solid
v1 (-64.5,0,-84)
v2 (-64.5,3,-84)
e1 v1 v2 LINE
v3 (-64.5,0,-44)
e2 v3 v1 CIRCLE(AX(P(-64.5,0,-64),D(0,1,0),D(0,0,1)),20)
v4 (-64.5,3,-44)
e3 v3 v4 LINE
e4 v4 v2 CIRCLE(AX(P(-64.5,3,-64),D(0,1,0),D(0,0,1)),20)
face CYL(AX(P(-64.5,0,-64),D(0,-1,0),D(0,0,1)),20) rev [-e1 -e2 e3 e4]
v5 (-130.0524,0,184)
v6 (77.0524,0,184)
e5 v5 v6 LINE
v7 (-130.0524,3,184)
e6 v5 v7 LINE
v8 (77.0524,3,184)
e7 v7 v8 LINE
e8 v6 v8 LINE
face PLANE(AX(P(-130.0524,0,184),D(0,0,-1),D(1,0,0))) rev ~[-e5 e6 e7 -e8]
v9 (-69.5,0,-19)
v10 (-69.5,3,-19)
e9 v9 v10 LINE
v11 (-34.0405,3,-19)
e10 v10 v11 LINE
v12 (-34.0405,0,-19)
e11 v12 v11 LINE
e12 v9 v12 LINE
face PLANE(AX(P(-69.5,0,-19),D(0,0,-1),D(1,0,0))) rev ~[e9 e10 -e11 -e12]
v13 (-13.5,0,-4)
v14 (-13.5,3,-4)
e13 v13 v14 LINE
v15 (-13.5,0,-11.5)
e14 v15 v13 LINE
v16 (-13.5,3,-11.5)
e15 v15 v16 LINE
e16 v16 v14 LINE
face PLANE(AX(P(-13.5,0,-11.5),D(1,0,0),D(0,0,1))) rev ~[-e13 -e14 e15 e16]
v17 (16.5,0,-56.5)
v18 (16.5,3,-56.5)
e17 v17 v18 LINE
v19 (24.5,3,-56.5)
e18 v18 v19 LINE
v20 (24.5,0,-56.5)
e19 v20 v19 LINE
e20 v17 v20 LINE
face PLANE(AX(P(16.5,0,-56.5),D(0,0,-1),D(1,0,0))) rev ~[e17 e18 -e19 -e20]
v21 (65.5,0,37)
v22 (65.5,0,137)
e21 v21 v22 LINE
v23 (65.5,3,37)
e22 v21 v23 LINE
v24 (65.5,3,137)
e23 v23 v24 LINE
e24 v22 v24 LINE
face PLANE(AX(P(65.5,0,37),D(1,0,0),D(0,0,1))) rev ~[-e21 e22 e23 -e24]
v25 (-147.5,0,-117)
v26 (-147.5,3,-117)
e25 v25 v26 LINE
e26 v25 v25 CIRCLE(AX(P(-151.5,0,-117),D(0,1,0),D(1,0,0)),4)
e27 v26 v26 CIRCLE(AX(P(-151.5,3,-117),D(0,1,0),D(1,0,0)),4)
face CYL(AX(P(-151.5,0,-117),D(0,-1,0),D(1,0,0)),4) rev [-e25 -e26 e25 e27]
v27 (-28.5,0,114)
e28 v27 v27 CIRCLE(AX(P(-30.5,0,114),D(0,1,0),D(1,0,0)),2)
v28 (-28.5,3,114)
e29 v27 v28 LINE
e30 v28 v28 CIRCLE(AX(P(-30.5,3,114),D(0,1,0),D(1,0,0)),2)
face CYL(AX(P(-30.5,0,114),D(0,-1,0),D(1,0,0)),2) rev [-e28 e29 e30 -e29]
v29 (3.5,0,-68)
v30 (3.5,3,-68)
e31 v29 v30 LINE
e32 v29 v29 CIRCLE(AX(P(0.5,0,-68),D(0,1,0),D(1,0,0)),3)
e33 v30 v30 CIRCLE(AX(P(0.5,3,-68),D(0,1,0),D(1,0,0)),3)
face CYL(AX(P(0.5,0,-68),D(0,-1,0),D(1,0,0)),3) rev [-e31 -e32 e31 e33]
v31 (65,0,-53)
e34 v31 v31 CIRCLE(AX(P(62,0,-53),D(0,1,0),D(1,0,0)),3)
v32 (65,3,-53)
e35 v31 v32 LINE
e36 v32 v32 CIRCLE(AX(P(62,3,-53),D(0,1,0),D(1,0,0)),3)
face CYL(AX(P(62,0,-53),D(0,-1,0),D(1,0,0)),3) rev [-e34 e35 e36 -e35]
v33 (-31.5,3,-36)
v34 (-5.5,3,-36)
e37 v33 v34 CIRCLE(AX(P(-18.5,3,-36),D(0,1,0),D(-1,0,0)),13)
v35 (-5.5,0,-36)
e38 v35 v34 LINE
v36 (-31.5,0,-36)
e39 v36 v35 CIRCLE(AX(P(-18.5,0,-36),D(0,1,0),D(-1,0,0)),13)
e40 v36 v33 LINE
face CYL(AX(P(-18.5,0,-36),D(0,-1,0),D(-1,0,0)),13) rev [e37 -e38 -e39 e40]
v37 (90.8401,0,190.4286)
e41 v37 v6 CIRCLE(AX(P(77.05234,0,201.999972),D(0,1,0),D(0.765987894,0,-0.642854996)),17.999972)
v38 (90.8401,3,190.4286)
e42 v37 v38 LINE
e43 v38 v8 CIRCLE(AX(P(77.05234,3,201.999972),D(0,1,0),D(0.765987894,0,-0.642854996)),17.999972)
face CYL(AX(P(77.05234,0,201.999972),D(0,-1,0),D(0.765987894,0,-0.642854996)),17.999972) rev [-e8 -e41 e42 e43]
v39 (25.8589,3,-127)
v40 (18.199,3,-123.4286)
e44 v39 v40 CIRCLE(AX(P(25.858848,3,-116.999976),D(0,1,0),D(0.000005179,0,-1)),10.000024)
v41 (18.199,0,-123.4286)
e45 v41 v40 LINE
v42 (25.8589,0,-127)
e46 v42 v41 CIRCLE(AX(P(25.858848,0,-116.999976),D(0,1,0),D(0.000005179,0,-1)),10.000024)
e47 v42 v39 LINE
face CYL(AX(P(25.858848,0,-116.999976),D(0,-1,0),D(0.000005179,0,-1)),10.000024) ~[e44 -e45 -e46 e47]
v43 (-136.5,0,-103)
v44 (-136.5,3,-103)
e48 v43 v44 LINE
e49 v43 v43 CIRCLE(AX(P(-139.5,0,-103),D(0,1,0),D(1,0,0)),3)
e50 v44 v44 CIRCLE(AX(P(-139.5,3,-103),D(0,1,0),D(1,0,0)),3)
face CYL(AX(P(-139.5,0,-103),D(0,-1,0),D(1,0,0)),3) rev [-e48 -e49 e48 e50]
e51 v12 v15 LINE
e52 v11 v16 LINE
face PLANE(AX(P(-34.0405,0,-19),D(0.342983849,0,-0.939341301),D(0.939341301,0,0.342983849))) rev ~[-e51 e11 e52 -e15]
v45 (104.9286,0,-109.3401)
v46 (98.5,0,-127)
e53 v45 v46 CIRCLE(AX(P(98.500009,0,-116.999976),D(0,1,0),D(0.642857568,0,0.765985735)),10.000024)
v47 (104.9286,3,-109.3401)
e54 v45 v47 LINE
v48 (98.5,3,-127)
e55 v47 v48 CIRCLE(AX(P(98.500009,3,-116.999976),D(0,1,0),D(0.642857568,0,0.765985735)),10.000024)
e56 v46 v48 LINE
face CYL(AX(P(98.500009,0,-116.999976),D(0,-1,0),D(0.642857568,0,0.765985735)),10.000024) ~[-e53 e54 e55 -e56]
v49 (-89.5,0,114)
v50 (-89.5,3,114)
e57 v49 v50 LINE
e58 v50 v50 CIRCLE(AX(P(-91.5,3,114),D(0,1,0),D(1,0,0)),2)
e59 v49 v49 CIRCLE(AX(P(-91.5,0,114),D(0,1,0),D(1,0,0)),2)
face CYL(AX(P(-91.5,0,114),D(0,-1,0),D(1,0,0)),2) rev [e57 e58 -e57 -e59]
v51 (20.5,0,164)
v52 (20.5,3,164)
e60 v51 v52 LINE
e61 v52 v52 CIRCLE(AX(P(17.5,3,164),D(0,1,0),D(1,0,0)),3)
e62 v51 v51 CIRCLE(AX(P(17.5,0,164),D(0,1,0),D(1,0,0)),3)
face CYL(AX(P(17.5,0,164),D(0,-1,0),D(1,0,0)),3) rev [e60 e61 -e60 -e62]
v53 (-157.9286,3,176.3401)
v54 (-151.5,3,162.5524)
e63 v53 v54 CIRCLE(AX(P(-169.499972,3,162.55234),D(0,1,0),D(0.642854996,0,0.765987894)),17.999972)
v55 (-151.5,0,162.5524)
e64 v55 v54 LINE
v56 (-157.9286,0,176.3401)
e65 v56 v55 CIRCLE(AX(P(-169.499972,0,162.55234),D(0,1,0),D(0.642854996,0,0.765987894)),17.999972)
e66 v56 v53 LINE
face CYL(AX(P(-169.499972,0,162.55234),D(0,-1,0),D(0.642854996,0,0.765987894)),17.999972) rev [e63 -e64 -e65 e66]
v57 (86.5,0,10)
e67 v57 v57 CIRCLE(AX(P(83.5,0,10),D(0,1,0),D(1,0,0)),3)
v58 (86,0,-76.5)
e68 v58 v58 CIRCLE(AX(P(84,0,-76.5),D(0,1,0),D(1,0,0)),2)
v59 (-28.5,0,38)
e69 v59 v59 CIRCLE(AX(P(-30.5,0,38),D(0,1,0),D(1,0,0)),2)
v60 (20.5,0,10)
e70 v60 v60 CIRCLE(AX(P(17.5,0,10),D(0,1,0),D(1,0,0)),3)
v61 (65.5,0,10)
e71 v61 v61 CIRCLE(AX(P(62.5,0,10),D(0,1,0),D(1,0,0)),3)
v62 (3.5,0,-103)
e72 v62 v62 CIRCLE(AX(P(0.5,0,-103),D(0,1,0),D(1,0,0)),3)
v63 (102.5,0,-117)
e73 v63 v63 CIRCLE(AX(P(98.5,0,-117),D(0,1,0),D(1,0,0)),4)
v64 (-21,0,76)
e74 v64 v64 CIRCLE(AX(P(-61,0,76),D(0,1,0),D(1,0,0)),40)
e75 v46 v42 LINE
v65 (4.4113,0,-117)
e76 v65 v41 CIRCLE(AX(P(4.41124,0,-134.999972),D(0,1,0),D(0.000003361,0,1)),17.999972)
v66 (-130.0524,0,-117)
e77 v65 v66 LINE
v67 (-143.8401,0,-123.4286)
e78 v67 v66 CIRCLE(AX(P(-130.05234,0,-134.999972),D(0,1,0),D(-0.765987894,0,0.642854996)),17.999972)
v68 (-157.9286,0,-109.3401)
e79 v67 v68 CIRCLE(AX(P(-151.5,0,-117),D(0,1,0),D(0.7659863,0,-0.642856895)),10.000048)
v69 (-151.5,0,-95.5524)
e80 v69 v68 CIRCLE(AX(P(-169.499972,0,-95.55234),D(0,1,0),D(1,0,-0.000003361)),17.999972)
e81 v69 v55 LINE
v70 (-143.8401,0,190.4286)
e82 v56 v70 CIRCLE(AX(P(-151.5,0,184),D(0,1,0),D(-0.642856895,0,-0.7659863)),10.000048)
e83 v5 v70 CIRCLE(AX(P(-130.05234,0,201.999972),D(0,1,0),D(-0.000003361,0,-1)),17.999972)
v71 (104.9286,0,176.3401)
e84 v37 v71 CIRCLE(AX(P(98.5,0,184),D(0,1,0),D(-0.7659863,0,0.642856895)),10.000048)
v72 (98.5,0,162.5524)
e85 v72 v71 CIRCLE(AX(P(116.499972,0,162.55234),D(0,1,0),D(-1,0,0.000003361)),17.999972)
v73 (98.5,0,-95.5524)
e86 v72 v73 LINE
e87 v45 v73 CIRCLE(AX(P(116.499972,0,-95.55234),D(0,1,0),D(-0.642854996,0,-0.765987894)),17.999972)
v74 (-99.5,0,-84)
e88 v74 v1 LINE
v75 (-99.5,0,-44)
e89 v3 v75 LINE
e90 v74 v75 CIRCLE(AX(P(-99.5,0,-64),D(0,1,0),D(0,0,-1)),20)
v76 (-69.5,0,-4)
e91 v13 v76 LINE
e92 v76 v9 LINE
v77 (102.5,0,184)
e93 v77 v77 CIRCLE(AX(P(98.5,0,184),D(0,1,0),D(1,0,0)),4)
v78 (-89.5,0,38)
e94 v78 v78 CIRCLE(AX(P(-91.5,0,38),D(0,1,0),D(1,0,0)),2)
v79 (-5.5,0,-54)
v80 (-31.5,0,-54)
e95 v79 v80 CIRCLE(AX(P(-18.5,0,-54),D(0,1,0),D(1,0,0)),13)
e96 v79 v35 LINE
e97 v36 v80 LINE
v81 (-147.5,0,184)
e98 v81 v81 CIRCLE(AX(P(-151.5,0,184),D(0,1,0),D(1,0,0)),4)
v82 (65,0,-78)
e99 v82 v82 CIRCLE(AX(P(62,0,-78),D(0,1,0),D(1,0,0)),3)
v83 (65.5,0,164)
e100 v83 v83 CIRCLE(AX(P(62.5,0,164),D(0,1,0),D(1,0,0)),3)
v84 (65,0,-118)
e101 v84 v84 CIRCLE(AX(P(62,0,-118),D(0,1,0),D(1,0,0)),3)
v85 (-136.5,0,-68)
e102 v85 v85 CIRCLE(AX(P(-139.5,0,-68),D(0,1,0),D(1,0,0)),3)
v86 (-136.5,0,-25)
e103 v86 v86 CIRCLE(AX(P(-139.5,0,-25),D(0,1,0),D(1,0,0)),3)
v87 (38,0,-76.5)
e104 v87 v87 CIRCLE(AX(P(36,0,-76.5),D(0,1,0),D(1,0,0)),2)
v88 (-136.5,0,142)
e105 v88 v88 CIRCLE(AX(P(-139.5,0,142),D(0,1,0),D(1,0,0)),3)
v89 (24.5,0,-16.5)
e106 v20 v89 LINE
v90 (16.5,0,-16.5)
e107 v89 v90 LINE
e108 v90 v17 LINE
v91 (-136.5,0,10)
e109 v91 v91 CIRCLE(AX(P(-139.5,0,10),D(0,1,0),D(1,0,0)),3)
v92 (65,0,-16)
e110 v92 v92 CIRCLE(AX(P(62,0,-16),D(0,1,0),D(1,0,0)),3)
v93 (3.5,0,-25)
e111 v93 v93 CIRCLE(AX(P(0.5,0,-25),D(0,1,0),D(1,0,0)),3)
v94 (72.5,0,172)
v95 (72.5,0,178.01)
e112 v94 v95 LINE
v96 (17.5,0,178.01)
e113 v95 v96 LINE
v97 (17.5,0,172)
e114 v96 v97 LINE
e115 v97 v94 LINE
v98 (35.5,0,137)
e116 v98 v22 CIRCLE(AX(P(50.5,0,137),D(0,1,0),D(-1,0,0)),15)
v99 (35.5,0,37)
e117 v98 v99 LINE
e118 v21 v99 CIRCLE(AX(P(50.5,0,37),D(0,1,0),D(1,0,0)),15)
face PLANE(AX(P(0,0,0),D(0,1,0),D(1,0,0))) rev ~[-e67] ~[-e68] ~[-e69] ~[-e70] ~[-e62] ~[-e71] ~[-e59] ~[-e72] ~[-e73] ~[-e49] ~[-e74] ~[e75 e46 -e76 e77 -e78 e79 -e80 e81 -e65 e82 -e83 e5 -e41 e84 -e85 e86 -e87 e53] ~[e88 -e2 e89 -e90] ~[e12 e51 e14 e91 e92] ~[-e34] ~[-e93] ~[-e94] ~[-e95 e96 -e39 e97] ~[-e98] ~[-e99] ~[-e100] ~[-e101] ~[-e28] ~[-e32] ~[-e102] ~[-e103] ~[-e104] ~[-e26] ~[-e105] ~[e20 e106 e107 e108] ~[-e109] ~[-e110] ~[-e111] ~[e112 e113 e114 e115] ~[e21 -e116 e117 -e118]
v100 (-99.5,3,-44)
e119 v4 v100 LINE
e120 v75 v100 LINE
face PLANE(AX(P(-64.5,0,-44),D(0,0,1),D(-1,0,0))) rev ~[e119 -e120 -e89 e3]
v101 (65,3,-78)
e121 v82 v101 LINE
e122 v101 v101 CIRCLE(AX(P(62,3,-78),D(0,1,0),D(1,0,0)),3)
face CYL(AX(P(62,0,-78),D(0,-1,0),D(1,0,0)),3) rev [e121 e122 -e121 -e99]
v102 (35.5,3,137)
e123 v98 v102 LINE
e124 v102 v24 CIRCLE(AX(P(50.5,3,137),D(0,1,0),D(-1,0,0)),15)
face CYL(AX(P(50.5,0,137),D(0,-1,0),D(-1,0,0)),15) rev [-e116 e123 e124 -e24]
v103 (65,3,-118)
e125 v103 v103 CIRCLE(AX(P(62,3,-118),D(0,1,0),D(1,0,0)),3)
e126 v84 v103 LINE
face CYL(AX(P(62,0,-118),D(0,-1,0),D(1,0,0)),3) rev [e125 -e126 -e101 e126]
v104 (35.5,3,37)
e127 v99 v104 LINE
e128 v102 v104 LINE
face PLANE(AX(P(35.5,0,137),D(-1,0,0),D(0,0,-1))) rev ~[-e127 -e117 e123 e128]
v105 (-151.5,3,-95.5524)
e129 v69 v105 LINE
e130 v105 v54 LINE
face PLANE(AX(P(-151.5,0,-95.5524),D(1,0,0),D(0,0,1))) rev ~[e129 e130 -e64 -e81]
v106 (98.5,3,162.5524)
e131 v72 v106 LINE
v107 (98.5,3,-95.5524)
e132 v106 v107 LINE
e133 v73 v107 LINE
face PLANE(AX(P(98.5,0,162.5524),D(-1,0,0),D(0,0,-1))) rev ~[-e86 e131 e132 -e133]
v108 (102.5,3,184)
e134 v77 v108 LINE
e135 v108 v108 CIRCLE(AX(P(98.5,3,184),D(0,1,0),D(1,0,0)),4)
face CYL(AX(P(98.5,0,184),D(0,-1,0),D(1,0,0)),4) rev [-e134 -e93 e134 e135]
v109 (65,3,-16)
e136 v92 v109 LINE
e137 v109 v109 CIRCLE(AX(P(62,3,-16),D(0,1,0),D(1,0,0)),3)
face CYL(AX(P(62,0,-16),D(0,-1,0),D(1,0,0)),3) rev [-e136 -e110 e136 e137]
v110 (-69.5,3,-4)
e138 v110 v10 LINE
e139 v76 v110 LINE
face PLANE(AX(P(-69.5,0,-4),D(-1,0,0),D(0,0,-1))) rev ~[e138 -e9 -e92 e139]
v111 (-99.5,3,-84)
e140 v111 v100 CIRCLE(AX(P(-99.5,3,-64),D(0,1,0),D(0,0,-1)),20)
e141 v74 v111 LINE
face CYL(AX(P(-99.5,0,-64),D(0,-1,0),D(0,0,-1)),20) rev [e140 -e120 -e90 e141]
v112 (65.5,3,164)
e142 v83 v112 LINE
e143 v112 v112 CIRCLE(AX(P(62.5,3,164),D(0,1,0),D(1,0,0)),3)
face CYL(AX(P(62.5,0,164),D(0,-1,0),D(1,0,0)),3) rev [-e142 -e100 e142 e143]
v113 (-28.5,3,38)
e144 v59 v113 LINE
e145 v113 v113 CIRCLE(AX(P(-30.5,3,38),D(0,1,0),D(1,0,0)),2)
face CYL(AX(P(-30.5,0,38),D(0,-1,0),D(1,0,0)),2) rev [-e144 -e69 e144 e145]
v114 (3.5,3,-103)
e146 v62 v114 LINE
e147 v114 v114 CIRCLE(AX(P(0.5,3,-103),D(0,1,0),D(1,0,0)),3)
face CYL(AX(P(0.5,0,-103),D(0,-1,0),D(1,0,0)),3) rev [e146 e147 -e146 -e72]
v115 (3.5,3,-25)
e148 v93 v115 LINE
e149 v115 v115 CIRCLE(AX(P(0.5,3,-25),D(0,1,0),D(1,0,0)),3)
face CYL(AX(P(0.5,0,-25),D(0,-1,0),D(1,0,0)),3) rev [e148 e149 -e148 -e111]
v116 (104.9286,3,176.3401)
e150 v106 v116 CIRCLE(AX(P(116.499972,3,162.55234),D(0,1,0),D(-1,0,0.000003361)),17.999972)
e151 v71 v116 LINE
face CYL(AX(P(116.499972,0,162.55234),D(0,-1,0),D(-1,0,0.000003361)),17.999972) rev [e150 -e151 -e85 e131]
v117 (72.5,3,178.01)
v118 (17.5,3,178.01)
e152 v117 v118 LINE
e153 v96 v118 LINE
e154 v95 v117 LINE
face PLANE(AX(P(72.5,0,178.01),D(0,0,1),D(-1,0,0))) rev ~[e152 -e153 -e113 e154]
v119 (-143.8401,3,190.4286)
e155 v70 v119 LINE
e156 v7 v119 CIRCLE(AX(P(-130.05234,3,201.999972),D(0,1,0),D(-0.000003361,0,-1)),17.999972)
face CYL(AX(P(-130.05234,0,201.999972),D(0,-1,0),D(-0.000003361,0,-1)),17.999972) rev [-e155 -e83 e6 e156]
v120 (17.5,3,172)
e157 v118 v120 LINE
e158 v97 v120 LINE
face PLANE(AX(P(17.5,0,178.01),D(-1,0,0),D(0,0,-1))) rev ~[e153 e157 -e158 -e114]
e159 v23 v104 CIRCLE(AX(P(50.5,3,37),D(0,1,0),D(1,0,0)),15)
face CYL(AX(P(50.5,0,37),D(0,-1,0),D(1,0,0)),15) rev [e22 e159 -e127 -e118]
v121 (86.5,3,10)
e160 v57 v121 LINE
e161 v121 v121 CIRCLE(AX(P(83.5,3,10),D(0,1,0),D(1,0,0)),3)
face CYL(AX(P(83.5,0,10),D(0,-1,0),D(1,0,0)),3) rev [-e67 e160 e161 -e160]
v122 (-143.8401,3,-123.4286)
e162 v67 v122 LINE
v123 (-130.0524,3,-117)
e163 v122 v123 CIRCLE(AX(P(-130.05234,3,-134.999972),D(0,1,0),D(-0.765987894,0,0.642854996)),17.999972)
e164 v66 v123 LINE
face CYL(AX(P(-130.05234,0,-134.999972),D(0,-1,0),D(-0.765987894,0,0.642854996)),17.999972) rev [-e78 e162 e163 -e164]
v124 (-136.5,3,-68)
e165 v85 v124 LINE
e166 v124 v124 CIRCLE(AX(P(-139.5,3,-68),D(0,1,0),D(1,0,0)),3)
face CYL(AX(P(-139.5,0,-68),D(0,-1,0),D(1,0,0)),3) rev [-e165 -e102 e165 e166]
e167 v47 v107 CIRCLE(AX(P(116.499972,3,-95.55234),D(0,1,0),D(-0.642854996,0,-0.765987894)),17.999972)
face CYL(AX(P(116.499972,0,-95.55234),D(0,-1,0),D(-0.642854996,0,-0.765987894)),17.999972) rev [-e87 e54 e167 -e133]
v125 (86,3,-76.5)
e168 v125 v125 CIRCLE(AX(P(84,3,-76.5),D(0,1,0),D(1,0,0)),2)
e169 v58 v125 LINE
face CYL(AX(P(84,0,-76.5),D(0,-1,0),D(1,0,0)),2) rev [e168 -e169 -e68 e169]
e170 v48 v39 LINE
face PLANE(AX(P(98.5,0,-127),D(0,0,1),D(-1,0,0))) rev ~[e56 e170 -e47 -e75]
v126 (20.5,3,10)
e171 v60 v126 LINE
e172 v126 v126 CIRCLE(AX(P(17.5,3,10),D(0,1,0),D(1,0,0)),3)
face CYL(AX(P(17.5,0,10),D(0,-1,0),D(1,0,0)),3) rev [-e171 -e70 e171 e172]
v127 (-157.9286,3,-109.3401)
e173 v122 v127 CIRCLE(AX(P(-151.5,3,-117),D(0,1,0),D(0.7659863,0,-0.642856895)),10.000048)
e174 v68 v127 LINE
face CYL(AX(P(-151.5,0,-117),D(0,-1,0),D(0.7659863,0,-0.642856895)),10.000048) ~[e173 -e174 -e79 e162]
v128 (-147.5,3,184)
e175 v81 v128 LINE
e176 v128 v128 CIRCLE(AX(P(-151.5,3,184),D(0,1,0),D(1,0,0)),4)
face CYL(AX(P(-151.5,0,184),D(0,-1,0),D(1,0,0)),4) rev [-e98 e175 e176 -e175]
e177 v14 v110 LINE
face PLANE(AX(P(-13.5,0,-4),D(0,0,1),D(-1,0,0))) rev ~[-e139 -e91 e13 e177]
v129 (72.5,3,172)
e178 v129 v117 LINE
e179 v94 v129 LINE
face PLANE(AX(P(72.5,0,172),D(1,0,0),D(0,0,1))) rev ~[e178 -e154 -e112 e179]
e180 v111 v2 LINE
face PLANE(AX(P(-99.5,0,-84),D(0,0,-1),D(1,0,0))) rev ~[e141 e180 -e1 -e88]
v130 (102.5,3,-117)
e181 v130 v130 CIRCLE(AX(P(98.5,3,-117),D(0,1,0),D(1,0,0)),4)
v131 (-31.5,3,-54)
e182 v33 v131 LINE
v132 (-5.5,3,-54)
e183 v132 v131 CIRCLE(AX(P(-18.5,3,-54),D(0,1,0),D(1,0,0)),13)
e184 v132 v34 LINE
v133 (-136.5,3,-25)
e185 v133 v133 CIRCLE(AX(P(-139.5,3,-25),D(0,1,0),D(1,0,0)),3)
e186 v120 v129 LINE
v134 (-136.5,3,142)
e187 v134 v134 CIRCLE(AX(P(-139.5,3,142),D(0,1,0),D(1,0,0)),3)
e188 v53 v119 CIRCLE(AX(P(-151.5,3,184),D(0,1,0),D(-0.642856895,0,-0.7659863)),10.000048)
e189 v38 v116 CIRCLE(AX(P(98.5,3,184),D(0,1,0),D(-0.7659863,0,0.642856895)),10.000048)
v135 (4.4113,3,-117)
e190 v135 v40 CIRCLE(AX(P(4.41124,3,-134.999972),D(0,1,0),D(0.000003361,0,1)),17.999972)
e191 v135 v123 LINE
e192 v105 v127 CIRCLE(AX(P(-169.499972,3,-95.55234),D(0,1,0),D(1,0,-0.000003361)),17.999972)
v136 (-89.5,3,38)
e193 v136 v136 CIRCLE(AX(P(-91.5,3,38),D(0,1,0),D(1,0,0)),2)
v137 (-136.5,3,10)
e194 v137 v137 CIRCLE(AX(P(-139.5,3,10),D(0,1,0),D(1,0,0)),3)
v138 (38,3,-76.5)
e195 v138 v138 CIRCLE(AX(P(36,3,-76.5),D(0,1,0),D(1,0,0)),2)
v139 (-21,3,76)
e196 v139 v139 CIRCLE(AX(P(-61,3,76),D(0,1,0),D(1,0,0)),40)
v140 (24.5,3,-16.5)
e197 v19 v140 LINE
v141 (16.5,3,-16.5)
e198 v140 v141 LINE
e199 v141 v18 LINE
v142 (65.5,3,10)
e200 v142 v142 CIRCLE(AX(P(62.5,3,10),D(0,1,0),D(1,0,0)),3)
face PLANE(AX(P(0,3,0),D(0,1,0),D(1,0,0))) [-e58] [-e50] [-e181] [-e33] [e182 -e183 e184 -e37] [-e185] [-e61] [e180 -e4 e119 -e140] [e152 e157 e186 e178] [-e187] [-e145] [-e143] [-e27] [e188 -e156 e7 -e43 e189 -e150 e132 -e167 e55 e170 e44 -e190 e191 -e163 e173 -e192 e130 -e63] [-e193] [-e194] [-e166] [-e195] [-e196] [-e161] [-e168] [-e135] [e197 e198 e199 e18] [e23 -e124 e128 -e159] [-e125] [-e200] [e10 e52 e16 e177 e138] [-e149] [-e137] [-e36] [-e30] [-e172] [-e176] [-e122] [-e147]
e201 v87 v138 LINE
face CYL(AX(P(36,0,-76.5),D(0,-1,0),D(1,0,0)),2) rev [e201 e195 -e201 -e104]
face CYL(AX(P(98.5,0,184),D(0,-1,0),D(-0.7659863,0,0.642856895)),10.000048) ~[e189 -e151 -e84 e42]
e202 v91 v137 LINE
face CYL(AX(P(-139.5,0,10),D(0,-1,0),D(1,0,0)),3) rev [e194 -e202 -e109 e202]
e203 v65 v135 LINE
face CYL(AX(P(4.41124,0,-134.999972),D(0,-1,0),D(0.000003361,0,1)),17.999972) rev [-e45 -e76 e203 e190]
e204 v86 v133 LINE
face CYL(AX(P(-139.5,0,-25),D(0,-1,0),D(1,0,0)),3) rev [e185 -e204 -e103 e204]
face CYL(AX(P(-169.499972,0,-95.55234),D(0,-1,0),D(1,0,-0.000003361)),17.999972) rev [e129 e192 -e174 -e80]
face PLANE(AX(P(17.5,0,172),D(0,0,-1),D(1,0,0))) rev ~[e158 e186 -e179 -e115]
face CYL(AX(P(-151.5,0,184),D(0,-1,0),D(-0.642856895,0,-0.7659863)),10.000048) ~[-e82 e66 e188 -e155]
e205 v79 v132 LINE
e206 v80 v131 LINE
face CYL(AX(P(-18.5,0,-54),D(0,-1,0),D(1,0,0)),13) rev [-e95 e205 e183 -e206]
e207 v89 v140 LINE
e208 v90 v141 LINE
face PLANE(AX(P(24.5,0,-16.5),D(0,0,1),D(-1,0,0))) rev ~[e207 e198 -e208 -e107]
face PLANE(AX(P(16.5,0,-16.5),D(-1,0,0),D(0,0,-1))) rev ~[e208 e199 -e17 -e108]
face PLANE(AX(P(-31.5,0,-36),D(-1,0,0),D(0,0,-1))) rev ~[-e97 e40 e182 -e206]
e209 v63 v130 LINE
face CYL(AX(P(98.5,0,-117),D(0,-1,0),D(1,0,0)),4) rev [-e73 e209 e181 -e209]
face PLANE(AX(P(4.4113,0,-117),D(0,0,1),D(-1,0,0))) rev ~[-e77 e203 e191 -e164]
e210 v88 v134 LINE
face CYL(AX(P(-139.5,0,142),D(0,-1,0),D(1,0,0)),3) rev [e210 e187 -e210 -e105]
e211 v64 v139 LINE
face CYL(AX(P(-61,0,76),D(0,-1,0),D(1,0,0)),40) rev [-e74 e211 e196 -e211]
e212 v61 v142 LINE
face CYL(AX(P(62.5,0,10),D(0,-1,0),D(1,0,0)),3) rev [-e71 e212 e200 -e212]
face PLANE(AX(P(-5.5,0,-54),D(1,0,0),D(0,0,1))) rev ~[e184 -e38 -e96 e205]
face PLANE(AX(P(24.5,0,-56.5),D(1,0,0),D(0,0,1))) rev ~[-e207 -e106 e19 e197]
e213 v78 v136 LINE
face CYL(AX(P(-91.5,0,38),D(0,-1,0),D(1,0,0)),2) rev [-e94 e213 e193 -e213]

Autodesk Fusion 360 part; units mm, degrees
sketch "Sketch1" plane through (0, 0, 0) normal (0, 1, 0) x (1, 0, 0)
  arc A0 (25.8589, 127) -> (18.199, 123.4286) centre (25.8589, 117) ccw
  circle A1 centre (62, 16) radius 3
  arc A2 (4.4113, 117) -> (18.199, 123.4286) centre (4.4113, 135) ccw
  line L0 (-64.5, 44) -> (-99.5, 44)
  line L1 (-151.5, 95.5524) -> (-151.5, -162.5524)
  line L2 (98.5, -162.5524) -> (98.5, 95.5524)
  line L3 (-31.5, 36) -> (-31.5, 54)
  circle A3 centre (-151.5, -184) radius 4
  arc A4 (-130.0524, -184) -> (-143.8401, -190.4286) centre (-130.0524, -202) ccw
  line L4 (-13.5, 4) -> (-69.5, 4)
  line L5 (-69.5, 19) -> (-13.5, 19)
  line L6 (-69.5, 4) -> (-69.5, 19)
  circle A5 centre (62.5, -10) radius 3
  line L7 (-130.0524, -184) -> (77.0524, -184)
  circle A6 centre (83.5, -10) radius 3
  line L8 (4.4113, 117) -> (-130.0524, 117)
  circle A7 centre (0.5, 103) radius 3
  circle A8 centre (62, 53) radius 3
  arc A9 (-157.9286, -176.3401) -> (-143.8401, -190.4286) centre (-151.5, -184) ccw
  arc A10 (-151.5, 95.5524) -> (-157.9286, 109.3401) centre (-169.5, 95.5524) ccw
  arc A11 (104.9286, 109.3401) -> (98.5, 127) centre (98.5, 117) ccw
  circle A12 centre (-139.5, 103) radius 3
  arc A13 (104.9286, 109.3401) -> (98.5, 95.5524) centre (116.5, 95.5524) ccw
  arc A14 (-5.5, 54) -> (-31.5, 54) centre (-18.5, 54) ccw
  circle A15 centre (0.5, 25) radius 3
  arc A16 (-31.5, 36) -> (-5.5, 36) centre (-18.5, 36) ccw
  circle A17 centre (98.5, 117) radius 4
  circle A18 centre (17.5, -10) radius 3
  circle A19 centre (-151.5, 117) radius 4
  circle A20 centre (-139.5, 25) radius 3
  circle A21 centre (62.5, -164) radius 3
  arc A22 (-157.9286, -176.3401) -> (-151.5, -162.5524) centre (-169.5, -162.5524) ccw
  arc A23 (98.5, -162.5524) -> (104.9286, -176.3401) centre (116.5, -162.5524) ccw
  arc A24 (65.5, -37) -> (35.5, -37) centre (50.5, -37) ccw
  line L9 (65.5, -37) -> (65.5, -137)
  line L10 (35.5, -137) -> (35.5, -37)
  arc A25 (35.5, -137) -> (65.5, -137) centre (50.5, -137) ccw
  circle A26 centre (98.5, -184) radius 4
  circle A27 centre (-30.5, -114) radius 2
  circle A28 centre (17.5, -164) radius 3
  circle A29 centre (-91.5, -114) radius 2
  arc A30 (90.8401, -190.4286) -> (77.0524, -184) centre (77.0524, -202) ccw
  arc A31 (90.8401, -190.4286) -> (104.9286, -176.3401) centre (98.5, -184) ccw
  circle A32 centre (-61, -76) radius 40
  circle A33 centre (-30.5, -38) radius 2
  circle A34 centre (-91.5, -38) radius 2
  circle A35 centre (-139.5, -142) radius 3
  circle A36 centre (62, 118) radius 3
  arc A37 (-64.5, 44) -> (-64.5, 84) centre (-64.5, 64) ccw
  line L11 (16.5, 56.5) -> (24.5, 56.5)
  circle A38 centre (-139.5, -10) radius 3
  line L12 (16.5, 16.5) -> (16.5, 56.5)
  line L13 (98.5, 127) -> (25.8589, 127)
  line L14 (-99.5, 84) -> (-64.5, 84)
  line L15 (-13.5, 19) -> (-13.5, 4)
  arc A39 (-143.8401, 123.4286) -> (-157.9286, 109.3401) centre (-151.5, 117) ccw
  arc A40 (-143.8401, 123.4286) -> (-130.0524, 117) centre (-130.0524, 135) ccw
  arc A41 (-99.5, 84) -> (-99.5, 44) centre (-99.5, 64) ccw
  line L16 (24.5, 56.5) -> (24.5, 16.5)
  line L17 (-5.5, 54) -> (-5.5, 36)
  line L18 (24.5, 16.5) -> (16.5, 16.5)
  line L19 (-34.0405, 19) -> (-13.5, 11.5)
  line L20 (62.5, -164) -> (72.5, -164) construction
  line L21 (72.5, -164) -> (72.5, -172) construction
  line L22 (72.5, -172) -> (62.5, -172) construction
  line L23 (62.5, -172) -> (62.5, -164) construction
  line L24 (17.5, -164) -> (17.5, -172) construction
  line L25 (17.5, -172) -> (72.5, -172)
  line L26 (72.5, -172) -> (72.5, -178.01)
  line L27 (72.5, -178.01) -> (17.5, -178.01)
  line L28 (17.5, -178.01) -> (17.5, -172)
  circle A42 centre (36, 76.5) radius 2
  circle A43 centre (84, 76.5) radius 2
  circle A44 centre (-139.5, 68) radius 3
  circle A45 centre (0.5, 68) radius 3
  circle A46 centre (62, 78) radius 3
  point P0 (-61, -76)
  dimension "d5" = 10
  dimension "d6" = 8
  dimension "d7" = 8
  dimension "d8" = 6.01
  dimension "d9" = 4
  dimension "d10" = 48
extrude "Extrude1" add sketch "Sketch1" along normal blind 3 contours A0 A2 L1 L2 A4 L7 L8 A9 A10 A11 A13 A22 A23 A30 A31 L13 A39 A40 | L5 L15 L19
equation "d7 = d6"
